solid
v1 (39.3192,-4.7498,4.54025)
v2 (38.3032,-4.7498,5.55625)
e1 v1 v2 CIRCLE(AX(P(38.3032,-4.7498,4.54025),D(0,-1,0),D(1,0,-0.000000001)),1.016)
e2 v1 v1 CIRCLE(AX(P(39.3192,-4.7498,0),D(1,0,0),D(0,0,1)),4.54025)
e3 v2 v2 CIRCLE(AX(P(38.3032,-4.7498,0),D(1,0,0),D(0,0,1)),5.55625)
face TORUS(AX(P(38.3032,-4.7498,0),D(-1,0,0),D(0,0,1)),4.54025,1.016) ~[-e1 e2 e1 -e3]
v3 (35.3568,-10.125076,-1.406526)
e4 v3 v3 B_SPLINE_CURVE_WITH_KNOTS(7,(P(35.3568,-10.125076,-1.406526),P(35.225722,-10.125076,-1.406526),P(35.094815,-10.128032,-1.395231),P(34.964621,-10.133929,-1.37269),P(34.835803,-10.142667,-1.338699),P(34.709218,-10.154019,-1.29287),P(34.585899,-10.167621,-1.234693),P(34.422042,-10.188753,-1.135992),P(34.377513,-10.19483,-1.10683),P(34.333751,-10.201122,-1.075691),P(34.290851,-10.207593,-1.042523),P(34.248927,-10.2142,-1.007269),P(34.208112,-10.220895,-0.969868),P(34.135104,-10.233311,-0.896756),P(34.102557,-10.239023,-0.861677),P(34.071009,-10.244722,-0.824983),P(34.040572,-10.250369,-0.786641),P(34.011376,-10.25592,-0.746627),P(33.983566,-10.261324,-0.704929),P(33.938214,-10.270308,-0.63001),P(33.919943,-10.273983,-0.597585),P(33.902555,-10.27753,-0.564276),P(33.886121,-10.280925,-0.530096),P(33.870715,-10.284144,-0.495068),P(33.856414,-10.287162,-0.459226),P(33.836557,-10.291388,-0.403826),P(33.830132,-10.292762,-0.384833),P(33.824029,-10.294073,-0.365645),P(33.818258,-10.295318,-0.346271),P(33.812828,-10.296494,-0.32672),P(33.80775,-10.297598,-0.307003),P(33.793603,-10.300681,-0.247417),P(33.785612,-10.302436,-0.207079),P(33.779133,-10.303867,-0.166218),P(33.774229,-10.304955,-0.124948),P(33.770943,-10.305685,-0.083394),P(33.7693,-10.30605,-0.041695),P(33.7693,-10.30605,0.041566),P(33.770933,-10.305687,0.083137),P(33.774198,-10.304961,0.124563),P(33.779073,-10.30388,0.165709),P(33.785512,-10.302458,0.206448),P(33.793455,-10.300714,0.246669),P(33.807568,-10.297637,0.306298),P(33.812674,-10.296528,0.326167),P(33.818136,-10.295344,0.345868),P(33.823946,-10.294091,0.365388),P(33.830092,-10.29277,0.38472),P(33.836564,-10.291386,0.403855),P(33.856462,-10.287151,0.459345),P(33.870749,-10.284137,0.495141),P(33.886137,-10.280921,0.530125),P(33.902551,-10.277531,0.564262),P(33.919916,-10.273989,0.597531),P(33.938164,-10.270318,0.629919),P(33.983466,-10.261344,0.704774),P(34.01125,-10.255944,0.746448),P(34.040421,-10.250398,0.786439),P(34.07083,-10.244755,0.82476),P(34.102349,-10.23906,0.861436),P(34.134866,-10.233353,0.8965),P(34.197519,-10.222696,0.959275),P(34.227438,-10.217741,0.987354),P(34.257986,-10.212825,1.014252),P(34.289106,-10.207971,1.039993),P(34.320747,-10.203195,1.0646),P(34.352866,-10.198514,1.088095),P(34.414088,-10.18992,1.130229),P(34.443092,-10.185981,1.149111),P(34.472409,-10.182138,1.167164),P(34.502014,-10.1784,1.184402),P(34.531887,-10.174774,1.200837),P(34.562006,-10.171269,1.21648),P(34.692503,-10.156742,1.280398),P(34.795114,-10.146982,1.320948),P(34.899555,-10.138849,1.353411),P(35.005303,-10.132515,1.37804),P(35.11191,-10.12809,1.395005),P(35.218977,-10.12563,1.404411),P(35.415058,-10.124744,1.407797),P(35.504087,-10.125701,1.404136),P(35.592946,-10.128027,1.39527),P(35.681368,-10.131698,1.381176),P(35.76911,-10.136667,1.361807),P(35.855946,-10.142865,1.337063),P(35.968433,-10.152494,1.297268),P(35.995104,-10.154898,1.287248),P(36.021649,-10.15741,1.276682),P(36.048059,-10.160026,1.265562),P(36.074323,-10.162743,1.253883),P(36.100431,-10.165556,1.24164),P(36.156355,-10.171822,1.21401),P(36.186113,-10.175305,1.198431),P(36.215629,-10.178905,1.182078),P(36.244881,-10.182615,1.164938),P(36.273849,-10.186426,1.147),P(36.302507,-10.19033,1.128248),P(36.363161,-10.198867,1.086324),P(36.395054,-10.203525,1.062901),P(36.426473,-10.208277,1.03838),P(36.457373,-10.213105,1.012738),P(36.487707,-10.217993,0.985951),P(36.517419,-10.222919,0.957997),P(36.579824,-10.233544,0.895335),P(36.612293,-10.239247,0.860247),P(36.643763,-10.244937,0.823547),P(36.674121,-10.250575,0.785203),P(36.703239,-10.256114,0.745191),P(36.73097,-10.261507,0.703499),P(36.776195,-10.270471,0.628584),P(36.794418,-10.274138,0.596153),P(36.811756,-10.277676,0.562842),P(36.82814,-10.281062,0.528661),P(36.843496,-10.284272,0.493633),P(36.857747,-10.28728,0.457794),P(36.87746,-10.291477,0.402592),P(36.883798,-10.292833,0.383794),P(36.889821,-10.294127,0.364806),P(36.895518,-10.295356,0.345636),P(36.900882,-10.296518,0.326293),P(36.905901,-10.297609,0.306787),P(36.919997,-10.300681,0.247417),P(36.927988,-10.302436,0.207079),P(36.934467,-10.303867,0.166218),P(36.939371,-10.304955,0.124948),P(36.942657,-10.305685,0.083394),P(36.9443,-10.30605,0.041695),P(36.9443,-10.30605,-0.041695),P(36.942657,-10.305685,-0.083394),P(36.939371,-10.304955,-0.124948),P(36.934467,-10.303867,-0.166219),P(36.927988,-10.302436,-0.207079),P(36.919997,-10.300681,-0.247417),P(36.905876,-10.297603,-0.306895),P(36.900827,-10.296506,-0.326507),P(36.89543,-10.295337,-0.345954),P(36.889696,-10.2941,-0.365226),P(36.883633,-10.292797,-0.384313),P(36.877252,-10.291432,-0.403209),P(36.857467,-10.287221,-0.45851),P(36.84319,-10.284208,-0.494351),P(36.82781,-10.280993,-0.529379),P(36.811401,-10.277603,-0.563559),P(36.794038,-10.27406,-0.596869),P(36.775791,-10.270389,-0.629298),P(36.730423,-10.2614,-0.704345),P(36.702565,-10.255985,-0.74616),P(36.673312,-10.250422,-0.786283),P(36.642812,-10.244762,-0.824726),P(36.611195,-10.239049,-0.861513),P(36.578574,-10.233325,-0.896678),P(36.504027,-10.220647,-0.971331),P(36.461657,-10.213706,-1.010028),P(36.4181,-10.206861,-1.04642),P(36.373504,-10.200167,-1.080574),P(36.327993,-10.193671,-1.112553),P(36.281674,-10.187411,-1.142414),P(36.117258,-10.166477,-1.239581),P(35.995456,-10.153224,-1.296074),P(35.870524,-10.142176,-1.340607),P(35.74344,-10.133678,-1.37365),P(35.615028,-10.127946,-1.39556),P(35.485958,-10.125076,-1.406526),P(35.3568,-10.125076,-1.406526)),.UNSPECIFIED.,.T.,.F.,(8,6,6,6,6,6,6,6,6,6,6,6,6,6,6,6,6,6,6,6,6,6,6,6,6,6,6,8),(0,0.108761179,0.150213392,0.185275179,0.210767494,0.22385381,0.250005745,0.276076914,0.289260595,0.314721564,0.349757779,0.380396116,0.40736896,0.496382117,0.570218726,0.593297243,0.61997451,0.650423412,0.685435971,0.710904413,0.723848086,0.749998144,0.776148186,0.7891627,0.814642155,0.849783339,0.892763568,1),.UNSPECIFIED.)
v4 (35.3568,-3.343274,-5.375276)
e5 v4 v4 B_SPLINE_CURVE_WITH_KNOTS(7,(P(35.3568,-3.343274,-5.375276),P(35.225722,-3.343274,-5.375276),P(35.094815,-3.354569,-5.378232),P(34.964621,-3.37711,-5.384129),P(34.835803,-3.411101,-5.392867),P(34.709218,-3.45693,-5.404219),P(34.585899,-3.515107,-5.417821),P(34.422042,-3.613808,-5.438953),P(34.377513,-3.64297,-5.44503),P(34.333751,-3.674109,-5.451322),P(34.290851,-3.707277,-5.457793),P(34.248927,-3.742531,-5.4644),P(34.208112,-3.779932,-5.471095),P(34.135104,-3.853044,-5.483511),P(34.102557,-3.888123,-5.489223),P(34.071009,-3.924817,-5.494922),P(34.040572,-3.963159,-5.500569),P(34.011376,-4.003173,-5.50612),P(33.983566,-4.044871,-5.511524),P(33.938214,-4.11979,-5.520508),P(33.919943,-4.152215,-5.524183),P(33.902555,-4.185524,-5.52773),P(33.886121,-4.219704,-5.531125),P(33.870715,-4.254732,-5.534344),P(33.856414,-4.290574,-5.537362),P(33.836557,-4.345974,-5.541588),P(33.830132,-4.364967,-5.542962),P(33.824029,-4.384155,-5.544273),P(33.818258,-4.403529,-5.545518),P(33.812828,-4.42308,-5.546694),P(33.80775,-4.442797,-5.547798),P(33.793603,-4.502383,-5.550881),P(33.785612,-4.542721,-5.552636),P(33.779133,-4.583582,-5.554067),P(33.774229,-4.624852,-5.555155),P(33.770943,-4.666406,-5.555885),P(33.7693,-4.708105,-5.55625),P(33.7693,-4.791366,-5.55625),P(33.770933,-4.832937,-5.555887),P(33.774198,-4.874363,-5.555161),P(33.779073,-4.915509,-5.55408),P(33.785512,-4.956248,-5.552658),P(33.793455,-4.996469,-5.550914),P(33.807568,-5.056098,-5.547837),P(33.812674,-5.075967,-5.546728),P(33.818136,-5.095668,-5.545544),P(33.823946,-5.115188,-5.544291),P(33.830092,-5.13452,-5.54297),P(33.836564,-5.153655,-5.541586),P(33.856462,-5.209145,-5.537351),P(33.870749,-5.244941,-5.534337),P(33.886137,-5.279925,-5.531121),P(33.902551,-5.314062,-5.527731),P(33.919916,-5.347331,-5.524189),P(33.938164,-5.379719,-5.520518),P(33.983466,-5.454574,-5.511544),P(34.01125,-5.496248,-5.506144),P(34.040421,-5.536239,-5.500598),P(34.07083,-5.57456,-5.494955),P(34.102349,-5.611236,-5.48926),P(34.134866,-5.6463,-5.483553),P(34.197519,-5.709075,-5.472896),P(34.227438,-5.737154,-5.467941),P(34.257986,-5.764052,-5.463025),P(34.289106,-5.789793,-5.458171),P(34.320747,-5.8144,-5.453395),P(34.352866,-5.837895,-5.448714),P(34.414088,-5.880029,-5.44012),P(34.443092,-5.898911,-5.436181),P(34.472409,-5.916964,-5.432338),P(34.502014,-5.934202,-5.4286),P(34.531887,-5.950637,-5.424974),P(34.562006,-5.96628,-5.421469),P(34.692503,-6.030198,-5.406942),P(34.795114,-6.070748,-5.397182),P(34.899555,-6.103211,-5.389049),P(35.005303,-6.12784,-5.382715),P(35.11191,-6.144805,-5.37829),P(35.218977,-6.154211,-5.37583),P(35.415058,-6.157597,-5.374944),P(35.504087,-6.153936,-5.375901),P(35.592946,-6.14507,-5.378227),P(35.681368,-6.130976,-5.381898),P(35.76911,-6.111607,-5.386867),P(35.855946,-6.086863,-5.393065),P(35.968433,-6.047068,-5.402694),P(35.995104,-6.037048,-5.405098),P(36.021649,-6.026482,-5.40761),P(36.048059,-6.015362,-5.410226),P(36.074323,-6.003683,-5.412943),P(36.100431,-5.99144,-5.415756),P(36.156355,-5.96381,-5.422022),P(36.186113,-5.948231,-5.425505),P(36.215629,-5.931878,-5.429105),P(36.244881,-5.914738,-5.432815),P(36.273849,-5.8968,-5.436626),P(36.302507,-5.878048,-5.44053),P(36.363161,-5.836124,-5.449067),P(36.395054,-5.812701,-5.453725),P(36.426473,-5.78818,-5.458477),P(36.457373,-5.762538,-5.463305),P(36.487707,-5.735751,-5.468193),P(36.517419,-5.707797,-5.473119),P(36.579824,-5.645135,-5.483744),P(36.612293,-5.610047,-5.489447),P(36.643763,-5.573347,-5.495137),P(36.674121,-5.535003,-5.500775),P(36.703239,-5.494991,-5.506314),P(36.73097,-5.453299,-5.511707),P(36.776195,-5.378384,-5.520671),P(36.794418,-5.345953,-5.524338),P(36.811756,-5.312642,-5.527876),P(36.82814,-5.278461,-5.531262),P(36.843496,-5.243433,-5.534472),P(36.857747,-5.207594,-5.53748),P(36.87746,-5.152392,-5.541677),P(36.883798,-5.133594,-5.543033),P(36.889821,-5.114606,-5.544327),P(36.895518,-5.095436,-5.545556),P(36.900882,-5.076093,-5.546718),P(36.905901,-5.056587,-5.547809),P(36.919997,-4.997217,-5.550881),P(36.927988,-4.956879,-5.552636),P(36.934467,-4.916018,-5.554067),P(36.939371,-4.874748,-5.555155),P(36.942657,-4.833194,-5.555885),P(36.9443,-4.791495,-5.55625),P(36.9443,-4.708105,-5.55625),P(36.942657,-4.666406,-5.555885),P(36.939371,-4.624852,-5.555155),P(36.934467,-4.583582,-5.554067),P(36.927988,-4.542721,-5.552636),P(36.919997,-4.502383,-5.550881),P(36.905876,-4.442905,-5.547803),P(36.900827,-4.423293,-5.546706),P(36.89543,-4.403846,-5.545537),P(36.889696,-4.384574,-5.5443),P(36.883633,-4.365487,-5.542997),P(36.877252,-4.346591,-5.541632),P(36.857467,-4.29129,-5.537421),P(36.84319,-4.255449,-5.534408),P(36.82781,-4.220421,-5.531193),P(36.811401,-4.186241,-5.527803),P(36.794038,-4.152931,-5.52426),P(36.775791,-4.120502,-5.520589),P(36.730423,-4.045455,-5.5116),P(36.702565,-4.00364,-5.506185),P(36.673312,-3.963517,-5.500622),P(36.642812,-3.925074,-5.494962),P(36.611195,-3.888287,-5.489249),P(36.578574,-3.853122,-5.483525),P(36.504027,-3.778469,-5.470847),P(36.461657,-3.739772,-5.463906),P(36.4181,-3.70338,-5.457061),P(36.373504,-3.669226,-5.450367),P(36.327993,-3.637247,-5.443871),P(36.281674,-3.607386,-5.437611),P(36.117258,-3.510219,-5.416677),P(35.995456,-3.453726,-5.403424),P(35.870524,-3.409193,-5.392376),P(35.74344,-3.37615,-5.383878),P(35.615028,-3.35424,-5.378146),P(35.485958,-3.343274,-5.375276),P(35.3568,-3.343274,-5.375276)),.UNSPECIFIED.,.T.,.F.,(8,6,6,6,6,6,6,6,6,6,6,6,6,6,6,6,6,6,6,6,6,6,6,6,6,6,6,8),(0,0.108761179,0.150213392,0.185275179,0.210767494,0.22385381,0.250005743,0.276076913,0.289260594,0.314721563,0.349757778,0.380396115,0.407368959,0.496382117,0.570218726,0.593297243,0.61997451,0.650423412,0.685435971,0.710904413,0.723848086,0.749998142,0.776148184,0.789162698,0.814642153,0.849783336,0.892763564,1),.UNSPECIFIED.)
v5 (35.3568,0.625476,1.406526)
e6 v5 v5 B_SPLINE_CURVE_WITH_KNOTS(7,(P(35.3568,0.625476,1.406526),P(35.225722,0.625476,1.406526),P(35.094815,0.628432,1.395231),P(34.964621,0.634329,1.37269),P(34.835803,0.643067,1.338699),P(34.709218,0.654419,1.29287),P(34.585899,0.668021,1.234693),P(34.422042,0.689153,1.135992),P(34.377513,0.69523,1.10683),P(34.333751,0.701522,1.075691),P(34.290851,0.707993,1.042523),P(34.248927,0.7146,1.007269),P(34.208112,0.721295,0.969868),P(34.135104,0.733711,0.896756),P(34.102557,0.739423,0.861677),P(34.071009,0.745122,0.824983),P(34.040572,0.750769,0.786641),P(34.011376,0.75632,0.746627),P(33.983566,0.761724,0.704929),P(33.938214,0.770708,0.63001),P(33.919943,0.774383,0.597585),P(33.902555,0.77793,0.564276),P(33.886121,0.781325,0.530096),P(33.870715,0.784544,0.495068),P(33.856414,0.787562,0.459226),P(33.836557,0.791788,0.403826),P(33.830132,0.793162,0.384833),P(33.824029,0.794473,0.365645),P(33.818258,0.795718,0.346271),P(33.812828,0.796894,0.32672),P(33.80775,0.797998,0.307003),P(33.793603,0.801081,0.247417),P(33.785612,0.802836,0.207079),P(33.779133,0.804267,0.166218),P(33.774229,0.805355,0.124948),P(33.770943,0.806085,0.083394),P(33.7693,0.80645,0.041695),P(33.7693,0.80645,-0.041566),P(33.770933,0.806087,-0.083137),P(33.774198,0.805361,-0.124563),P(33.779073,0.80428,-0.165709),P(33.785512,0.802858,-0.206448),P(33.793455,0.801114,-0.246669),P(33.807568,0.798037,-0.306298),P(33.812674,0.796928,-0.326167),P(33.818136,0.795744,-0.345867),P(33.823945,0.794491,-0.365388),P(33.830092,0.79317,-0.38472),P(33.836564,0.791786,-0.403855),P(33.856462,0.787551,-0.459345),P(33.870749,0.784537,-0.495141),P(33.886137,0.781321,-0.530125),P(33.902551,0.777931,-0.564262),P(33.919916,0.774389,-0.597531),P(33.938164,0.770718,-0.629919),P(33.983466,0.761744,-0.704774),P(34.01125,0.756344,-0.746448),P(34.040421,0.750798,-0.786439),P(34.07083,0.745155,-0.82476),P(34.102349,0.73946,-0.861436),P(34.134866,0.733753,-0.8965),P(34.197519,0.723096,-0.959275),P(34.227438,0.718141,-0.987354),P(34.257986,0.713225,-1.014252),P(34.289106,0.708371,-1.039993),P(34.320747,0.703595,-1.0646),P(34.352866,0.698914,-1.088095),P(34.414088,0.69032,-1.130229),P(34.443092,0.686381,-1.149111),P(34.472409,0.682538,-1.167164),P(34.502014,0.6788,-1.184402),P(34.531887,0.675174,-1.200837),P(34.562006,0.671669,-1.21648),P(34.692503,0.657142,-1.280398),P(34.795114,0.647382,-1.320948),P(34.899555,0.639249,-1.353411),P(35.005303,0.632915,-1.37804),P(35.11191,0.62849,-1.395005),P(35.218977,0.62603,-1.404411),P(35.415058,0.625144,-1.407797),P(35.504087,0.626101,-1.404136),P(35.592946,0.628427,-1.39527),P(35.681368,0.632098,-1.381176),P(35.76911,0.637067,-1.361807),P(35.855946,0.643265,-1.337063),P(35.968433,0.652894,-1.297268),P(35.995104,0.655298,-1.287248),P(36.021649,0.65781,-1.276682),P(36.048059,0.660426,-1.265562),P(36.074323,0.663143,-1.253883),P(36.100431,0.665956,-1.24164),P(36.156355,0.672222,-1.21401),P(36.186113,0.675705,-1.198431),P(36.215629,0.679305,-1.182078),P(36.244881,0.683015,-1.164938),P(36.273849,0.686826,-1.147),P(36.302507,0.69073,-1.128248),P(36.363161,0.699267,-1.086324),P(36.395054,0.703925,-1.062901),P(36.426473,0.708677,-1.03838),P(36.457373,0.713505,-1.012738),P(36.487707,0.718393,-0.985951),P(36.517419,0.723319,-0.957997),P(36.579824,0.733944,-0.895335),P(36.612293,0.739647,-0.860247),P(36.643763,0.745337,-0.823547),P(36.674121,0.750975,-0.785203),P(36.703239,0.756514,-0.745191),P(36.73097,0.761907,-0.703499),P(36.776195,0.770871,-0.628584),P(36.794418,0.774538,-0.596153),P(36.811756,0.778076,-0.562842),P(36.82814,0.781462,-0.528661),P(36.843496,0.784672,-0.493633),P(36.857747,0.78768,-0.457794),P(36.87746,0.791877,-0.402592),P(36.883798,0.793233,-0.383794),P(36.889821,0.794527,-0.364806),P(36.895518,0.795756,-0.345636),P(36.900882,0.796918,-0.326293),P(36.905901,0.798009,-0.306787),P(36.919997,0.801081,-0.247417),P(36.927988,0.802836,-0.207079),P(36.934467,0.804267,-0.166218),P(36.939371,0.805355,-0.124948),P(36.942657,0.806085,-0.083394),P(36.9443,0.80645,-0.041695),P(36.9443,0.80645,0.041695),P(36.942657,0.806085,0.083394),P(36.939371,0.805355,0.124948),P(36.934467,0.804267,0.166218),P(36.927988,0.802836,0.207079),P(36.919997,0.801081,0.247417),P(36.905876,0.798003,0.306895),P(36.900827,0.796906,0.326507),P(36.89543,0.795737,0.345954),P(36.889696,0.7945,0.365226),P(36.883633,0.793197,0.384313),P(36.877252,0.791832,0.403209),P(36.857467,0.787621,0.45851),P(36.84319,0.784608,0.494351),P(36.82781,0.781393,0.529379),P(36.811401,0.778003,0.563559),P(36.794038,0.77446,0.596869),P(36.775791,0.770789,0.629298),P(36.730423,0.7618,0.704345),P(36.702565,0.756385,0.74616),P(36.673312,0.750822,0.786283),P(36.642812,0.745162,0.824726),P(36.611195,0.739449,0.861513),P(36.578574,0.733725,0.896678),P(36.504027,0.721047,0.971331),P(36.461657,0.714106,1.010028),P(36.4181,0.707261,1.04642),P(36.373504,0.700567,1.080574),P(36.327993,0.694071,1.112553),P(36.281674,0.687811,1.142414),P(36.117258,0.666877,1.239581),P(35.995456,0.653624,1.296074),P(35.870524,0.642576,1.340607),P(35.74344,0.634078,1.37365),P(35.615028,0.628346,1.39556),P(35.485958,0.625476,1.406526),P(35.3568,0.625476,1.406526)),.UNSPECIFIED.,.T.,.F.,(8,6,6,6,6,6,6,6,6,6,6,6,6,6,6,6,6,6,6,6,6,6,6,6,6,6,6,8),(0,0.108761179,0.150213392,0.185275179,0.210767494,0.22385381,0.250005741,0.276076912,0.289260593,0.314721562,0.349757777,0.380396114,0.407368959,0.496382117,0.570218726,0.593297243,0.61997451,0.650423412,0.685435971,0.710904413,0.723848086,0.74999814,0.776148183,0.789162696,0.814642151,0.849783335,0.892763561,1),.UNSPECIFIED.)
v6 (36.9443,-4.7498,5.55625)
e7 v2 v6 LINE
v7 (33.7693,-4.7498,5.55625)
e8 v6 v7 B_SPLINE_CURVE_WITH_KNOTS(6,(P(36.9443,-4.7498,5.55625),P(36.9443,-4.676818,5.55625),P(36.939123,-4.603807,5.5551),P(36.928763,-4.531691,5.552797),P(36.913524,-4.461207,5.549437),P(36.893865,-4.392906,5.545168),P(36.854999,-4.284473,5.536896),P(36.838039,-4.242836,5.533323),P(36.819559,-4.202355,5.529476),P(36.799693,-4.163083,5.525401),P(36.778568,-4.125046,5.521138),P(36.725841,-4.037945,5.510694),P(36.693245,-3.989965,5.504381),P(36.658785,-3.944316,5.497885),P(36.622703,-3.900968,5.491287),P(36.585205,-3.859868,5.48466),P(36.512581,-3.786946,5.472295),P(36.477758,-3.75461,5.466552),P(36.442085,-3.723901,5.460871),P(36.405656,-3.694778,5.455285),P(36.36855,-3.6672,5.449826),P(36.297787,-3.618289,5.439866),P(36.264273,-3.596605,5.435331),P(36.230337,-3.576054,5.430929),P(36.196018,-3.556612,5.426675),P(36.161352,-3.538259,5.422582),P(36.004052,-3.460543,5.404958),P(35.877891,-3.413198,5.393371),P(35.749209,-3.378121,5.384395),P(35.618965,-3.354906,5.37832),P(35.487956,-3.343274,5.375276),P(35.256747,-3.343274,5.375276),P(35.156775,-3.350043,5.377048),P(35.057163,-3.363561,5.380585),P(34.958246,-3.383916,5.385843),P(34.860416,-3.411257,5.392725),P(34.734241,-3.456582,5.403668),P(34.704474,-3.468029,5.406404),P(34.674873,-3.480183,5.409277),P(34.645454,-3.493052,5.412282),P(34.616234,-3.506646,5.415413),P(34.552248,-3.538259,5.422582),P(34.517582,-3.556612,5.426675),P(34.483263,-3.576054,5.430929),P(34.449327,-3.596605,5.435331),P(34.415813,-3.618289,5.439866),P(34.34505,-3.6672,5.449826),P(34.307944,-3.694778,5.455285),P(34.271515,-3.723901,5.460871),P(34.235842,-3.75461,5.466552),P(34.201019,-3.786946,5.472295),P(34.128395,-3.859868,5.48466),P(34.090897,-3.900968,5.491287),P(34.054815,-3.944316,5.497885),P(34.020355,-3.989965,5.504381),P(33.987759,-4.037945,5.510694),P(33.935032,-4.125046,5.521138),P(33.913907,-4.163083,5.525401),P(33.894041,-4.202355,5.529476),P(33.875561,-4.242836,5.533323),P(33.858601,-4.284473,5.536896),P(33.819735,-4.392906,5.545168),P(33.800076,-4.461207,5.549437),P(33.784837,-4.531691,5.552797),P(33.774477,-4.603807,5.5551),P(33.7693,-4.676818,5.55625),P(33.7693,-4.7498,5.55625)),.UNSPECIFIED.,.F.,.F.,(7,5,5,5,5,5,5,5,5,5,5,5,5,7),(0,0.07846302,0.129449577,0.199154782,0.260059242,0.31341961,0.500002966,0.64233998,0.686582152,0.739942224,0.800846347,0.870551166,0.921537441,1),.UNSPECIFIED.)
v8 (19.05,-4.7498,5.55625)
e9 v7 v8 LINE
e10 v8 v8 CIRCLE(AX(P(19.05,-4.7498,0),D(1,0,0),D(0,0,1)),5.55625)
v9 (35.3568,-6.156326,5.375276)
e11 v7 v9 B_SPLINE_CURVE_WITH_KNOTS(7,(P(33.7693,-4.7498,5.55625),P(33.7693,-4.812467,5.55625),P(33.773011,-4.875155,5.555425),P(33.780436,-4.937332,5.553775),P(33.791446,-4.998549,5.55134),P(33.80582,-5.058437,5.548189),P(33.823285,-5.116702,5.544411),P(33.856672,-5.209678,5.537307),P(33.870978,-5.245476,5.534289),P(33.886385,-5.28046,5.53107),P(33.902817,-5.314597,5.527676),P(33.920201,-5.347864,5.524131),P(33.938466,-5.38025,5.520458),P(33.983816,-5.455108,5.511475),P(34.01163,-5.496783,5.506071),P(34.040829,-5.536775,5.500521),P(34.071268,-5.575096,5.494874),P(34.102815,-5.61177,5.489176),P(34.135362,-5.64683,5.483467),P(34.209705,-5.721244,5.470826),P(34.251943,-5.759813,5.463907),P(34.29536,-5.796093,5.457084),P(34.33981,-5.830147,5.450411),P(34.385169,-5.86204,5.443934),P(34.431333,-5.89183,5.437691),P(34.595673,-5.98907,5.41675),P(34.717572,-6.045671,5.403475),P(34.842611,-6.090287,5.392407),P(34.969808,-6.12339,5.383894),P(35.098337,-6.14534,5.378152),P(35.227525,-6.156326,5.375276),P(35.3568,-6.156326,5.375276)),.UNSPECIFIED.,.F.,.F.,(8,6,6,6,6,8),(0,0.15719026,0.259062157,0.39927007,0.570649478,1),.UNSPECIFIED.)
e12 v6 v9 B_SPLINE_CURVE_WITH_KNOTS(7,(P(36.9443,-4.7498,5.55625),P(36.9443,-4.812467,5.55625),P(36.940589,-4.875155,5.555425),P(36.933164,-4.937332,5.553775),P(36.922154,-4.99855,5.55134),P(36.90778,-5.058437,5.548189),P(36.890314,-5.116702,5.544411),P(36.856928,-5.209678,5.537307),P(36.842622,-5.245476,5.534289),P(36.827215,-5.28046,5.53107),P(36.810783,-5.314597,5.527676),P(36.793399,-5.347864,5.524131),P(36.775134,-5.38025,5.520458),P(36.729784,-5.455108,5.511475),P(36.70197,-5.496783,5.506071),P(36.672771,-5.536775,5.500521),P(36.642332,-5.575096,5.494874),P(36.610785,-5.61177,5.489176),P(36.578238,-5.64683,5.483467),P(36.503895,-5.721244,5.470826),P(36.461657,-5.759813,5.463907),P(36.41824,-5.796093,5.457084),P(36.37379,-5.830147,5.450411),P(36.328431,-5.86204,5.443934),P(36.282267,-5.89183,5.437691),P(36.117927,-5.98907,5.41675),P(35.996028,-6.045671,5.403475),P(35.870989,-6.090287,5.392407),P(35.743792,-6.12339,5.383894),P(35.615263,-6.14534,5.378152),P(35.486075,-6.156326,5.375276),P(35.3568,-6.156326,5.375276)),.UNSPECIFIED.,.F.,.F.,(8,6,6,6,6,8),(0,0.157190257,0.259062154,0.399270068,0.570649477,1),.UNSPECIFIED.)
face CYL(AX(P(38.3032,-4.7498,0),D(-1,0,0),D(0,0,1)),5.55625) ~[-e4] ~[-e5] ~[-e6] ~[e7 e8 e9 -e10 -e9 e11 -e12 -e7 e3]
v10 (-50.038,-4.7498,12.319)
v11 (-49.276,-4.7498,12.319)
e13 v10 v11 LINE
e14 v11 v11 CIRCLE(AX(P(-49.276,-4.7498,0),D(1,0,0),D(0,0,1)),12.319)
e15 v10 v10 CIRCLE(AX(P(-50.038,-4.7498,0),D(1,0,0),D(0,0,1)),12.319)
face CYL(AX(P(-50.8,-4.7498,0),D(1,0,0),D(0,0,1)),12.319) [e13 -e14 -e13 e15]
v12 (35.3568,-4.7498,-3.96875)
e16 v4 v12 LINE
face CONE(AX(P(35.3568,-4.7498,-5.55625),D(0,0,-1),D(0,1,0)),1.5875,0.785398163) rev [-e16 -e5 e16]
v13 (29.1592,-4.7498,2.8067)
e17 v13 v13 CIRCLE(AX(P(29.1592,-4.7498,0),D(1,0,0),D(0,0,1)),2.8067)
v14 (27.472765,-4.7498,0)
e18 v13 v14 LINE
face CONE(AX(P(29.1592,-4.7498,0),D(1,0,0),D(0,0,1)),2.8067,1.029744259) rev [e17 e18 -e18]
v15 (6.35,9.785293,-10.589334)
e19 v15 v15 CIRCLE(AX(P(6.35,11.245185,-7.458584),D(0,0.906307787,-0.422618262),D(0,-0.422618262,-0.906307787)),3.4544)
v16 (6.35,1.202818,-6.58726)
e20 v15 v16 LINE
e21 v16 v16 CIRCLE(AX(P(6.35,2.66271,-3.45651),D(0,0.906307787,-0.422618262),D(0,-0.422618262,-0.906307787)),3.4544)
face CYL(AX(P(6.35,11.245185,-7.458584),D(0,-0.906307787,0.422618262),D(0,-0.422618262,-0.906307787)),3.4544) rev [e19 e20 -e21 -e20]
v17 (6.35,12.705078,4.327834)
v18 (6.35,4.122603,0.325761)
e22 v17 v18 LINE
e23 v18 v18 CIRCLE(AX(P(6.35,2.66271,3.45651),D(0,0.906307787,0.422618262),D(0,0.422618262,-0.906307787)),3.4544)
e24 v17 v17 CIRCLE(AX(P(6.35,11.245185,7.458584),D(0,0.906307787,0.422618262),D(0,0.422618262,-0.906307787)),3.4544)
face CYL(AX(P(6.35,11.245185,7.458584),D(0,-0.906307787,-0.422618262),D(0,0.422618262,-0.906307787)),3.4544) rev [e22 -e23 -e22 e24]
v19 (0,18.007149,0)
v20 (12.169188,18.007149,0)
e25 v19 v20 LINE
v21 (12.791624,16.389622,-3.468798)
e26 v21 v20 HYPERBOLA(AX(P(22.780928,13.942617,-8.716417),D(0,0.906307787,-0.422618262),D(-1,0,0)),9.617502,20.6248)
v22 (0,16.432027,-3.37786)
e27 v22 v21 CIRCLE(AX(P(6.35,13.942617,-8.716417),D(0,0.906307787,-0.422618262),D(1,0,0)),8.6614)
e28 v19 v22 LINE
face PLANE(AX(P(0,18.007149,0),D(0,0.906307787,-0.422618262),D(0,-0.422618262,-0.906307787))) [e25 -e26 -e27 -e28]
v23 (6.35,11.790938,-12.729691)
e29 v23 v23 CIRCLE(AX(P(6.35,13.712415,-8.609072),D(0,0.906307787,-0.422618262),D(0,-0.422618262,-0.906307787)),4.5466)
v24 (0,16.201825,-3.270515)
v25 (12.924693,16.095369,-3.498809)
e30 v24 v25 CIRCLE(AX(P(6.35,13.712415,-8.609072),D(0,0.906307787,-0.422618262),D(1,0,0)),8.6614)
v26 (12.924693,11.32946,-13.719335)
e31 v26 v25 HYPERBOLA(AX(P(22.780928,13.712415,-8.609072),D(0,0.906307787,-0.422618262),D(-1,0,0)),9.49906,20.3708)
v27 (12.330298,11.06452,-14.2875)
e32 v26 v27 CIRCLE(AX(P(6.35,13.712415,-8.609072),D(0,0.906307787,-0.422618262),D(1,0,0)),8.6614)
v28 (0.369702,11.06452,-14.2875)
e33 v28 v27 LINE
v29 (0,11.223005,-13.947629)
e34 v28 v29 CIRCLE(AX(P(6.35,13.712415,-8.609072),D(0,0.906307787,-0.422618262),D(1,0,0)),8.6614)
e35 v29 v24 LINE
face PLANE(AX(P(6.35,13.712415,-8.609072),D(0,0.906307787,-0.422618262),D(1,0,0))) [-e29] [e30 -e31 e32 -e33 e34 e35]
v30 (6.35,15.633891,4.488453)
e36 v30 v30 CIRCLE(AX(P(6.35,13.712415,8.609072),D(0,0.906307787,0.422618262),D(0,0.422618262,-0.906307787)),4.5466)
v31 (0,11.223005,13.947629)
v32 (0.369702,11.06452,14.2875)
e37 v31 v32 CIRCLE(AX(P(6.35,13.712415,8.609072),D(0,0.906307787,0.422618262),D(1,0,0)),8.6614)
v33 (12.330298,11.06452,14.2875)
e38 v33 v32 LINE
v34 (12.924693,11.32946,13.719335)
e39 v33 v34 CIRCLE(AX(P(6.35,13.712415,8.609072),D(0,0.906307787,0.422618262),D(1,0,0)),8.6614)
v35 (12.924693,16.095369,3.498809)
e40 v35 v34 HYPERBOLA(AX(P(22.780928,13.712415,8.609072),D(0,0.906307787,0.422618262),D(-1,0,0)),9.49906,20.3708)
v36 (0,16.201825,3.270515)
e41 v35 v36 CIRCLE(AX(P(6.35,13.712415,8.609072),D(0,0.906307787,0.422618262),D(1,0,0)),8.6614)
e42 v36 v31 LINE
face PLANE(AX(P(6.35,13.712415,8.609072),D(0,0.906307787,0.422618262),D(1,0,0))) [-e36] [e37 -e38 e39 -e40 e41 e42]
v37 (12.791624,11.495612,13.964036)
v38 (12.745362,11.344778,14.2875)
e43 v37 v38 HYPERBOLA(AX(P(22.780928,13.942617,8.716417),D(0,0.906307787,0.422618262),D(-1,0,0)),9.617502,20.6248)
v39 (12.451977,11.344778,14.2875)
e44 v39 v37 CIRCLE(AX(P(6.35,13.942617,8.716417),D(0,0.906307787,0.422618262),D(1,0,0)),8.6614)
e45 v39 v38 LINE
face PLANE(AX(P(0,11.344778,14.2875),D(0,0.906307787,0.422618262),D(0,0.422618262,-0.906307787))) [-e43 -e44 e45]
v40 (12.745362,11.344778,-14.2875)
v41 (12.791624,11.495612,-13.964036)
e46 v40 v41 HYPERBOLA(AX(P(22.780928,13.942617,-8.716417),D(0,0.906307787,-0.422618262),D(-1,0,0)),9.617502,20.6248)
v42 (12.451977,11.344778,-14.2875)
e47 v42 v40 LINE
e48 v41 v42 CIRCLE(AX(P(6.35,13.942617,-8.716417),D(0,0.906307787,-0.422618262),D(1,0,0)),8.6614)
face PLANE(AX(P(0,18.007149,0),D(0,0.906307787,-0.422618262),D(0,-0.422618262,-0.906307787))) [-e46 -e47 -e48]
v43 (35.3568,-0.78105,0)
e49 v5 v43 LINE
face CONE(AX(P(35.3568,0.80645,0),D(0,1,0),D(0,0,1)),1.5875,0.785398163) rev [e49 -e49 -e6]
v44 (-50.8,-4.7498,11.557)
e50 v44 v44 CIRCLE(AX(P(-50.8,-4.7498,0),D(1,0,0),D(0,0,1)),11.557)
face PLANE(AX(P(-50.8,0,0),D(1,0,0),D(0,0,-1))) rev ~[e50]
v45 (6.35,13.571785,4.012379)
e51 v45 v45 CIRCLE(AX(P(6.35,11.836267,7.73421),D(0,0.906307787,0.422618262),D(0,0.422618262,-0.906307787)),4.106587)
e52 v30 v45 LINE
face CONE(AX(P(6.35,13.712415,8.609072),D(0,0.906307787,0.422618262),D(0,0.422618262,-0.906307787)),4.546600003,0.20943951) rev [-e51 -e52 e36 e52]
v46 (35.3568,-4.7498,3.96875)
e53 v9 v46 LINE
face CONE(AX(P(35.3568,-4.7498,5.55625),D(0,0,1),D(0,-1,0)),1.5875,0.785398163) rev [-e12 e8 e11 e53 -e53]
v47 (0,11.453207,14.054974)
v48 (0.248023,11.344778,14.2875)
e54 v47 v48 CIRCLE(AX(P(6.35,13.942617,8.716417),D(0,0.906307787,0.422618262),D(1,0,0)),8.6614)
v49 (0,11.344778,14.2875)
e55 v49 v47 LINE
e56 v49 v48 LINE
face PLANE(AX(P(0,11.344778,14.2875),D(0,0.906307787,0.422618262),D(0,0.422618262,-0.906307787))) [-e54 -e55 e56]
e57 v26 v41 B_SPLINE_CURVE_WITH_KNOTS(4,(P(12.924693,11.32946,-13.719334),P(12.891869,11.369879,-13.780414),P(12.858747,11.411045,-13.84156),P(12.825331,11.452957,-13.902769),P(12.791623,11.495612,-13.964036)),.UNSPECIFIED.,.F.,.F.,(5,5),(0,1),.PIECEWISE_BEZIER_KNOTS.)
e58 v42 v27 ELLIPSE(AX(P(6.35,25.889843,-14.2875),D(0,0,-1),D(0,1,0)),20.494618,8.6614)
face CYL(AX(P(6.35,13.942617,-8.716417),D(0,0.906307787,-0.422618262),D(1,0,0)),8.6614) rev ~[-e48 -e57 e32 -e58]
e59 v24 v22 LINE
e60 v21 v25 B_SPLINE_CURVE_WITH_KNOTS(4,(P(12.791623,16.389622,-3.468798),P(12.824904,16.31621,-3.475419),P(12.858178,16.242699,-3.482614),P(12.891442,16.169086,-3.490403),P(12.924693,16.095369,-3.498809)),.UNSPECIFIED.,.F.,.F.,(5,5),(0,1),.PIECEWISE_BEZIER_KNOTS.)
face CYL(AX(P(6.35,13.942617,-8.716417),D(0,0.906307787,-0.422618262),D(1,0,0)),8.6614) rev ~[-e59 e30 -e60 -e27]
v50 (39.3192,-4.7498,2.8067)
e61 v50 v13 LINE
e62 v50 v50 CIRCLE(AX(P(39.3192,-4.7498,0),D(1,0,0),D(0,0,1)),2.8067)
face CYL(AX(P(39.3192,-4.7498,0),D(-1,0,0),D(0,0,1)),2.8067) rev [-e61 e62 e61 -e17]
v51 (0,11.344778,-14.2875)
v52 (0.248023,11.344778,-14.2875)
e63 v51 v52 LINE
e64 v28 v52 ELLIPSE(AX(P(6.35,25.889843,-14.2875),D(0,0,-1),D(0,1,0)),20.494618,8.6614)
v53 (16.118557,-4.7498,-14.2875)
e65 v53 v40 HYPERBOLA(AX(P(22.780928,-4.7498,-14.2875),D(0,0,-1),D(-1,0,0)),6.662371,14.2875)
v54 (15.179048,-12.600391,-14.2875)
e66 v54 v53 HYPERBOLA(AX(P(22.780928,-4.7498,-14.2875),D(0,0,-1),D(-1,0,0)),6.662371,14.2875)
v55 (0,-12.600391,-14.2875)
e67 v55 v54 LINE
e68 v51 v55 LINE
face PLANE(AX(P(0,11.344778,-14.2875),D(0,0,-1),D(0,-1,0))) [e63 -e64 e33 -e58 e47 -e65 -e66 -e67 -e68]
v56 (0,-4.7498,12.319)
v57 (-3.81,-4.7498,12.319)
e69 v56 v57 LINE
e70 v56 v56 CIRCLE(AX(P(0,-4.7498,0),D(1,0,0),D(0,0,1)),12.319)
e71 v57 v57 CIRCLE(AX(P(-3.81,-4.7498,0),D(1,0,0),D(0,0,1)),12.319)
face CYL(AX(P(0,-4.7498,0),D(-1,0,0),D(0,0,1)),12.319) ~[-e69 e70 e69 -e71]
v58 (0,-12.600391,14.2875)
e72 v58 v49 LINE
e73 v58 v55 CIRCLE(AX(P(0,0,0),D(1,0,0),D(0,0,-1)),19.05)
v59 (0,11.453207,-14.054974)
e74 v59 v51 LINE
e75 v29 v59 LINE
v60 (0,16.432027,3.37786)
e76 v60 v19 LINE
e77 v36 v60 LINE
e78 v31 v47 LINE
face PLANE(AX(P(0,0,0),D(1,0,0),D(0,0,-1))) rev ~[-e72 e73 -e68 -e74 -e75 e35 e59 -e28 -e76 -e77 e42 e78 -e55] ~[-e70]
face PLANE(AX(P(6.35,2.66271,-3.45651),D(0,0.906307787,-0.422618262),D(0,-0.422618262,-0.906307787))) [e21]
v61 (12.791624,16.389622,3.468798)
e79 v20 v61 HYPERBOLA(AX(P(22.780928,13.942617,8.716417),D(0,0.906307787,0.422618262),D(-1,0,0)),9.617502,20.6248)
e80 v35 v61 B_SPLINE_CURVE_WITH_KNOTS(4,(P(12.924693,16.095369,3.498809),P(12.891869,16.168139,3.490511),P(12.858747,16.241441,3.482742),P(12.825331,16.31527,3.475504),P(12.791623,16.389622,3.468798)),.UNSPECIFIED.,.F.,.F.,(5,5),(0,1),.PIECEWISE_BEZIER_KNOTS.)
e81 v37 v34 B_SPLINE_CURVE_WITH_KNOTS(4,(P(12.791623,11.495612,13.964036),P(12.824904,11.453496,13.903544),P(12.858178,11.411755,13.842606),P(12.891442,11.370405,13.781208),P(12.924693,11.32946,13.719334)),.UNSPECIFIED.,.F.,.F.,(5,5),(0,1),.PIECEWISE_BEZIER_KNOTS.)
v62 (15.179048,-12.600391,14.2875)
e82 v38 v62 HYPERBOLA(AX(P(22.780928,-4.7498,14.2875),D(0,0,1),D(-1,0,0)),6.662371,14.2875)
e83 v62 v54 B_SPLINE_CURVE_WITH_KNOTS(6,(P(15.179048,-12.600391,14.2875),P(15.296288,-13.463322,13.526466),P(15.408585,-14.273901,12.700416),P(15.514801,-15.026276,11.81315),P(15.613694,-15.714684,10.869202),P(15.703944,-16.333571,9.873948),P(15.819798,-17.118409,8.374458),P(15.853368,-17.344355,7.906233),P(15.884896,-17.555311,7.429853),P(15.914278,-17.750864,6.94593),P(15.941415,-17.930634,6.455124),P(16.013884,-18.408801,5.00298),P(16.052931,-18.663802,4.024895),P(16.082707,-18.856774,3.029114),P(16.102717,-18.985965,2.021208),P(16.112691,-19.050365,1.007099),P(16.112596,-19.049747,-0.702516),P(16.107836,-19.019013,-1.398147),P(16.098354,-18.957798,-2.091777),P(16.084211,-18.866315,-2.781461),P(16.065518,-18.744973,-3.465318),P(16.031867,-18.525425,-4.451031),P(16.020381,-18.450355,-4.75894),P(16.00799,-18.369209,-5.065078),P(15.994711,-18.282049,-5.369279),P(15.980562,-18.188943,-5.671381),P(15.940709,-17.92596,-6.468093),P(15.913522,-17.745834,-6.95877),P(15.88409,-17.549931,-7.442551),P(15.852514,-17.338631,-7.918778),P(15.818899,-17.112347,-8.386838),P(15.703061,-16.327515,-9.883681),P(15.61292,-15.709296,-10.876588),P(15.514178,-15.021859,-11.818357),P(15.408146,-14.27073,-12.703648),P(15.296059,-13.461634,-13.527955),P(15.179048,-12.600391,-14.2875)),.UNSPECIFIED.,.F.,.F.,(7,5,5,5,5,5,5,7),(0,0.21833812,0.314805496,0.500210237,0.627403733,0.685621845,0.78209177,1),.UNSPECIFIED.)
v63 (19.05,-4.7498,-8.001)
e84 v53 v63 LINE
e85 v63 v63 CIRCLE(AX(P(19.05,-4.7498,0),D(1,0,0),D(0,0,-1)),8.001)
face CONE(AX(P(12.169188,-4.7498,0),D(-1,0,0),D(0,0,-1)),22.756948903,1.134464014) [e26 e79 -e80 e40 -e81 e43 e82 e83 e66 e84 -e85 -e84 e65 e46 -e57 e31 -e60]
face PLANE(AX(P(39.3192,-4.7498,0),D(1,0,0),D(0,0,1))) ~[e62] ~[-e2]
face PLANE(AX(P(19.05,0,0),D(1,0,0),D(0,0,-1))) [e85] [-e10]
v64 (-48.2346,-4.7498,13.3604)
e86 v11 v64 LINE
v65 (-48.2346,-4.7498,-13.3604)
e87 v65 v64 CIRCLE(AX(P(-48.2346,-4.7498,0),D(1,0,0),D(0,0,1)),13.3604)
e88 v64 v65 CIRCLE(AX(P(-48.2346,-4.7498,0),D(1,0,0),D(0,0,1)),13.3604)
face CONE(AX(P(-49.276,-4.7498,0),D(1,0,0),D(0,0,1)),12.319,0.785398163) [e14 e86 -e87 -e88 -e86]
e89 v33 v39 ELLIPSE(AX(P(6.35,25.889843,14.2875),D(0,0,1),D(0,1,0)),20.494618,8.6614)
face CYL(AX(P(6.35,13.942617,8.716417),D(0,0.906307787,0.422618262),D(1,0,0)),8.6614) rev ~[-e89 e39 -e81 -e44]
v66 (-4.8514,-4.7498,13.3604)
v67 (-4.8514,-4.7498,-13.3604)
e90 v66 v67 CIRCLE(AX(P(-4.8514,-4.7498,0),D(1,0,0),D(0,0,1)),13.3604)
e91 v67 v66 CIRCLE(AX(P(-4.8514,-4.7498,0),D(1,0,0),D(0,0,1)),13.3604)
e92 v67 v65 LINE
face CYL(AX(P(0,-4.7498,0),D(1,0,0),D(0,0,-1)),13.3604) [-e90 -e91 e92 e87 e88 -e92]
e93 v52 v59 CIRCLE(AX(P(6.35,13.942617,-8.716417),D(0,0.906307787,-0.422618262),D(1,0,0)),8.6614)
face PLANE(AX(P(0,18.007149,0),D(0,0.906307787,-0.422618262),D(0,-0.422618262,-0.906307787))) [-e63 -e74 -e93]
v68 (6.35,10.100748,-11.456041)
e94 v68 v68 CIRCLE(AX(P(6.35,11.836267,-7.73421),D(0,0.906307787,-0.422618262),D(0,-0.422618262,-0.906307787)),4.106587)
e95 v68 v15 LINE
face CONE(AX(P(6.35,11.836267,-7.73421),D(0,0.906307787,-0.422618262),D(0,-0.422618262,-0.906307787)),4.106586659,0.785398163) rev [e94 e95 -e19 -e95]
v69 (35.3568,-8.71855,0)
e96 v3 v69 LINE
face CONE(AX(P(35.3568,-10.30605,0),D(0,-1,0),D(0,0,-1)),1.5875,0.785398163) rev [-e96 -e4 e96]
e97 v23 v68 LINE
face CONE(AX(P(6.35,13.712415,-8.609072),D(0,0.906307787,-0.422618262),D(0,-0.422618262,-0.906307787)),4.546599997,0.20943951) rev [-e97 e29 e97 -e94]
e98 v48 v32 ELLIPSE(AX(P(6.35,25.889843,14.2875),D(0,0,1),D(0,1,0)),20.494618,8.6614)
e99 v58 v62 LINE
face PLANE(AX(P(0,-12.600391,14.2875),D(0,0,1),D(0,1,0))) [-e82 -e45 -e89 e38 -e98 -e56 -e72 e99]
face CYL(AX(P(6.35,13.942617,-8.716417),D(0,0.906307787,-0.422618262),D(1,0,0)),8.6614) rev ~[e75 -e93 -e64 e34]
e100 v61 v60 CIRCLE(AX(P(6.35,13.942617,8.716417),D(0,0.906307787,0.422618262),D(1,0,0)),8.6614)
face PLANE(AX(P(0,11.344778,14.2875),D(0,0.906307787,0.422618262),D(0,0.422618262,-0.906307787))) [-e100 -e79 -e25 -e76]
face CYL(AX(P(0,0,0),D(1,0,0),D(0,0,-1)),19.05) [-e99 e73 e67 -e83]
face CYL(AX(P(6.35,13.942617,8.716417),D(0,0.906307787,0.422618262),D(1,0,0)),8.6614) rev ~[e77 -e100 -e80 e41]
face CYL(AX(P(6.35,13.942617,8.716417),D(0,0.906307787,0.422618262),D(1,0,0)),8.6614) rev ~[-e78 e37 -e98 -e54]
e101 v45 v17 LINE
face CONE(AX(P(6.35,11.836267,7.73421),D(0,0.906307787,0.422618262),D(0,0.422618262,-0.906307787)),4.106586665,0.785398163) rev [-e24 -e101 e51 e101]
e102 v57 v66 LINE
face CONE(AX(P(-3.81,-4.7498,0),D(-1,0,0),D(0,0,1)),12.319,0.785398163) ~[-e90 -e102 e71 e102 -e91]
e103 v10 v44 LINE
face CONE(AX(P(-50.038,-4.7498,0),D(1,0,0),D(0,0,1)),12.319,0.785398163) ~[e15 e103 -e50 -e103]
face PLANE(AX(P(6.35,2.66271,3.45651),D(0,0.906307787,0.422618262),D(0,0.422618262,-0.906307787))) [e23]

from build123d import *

# Parameters (mm, degrees)
SKETCH1_R           = 19.05
EXTRUDE1_DEPTH      = 19.05
EXTRUDE1_DEPTH_BACK = 50.8
CUT_EXTRUDE1_REACH  = 52.8
SKETCH2_R           = 19.05
SKETCH2_R_2         = 13.3604
CUT_EXTRUDE3_REACH  = 21.05
SKETCH19_R          = 8.6614
CUT_EXTRUDE4_DEPTH  = 0.254
SKETCH20_R          = 8.6614
CUT_EXTRUDE5_DEPTH  = 0.254
CHAMFER1_SIZE       = 0.762
CIRPATTERN1_COUNT   = 4


with BuildPart() as part:
    # Sketch1 → Extrude1 (new body, two sides)
    with BuildSketch(Plane(origin=(0, 0, 0), x_dir=(0, 0, -1), z_dir=(1, 0, 0))) as extrude1_sk:
        Circle(SKETCH1_R)
    extrude(amount=EXTRUDE1_DEPTH)
    extrude(extrude1_sk.sketch, amount=-EXTRUDE1_DEPTH_BACK)

    # Sketch2 → Cut-Extrude1 (cut, up to next)
    with BuildSketch(Plane(origin=(0, 0, 0), x_dir=(0, 0, -1), z_dir=(1, 0, 0)), mode=Mode.PRIVATE) as cut_extrude1_sk1:
        Circle(SKETCH2_R)
        with Locations((0, -4.7498)):
            Circle(SKETCH2_R_2, mode=Mode.SUBTRACT)
    cut_extrude1_tool1 = extrude(cut_extrude1_sk1.sketch, amount=-CUT_EXTRUDE1_REACH, mode=Mode.PRIVATE) & part.part
    add(cut_extrude1_tool1.solids().sort_by_distance((0, 0, 18.511185))[0], mode=Mode.SUBTRACT)

    # Sketch4 → Cut-Extrude3 (cut, up to next)
    with BuildSketch(Plane.ZY, mode=Mode.PRIVATE) as cut_extrude3_sk1:
        with BuildLine():
            Line((14.2875, -12.600390619), (14.2875, 11.344778237))
            Line((14.2875, 11.344778237), (0, 18.007148903))
            Line((0, 18.007148903), (-14.2875, 11.344778237))
            Line((-14.2875, 11.344778237), (-14.2875, -12.600390619))
            ThreePointArc((-14.2875, -12.600390619), (0, 19.05), (14.2875, -12.600390619))
        make_face()
    cut_extrude3_tool1 = extrude(cut_extrude3_sk1.sketch, amount=-CUT_EXTRUDE3_REACH, mode=Mode.PRIVATE) & part.part
    add(cut_extrude3_tool1.solids().sort_by_distance((0, -0.627806, 14.782814))[0], mode=Mode.SUBTRACT)

    # Sketch6 → Cut-Revolve2 (revolve, cut)
    with BuildSketch(Plane.XY, mode=Mode.PRIVATE) as cut_revolve2_sk:
        Polygon((12.169188023, 18.007148903), (19.05, 3.2512), (19.05, 18.007148903), align=None)
    revolve(cut_revolve2_sk.sketch.rotate(Axis((1.987224567, -4.7498, 0), (1, 0, 0)), 270), axis=Axis((1.987224567, -4.7498, 0), (1, 0, 0)), mode=Mode.SUBTRACT)  # turned: the seam where the file's is

    # S2D0002 → Cut-Revolve3 (revolve, cut)
    with BuildSketch(Plane(origin=(6.35, 13.712414668, 8.609072086), x_dir=(0, 0.422618262, -0.906307787), z_dir=(1, 0, 0))):
        Polygon((0, 0), (4.5466, 0), (4.106586662, -2.0701), (3.4544, -2.722286662), (3.4544, -12.192), (0, -12.192), align=None)
    revolve(axis=Axis((6.35, 2.110224902, 3.198882147), (0, 0.906307787, 0.422618262)), mode=Mode.SUBTRACT)

    # Sketch19 → Cut-Extrude4 (cut)
    with BuildSketch(Plane(origin=(0, 14.790960552, 6.897138177), x_dir=(1, 0, 0), z_dir=(0, 0.906307787, 0.422618262))):
        with Locations((6.35, -2.00735222)):
            Circle(SKETCH19_R)
    extrude(amount=-CUT_EXTRUDE4_DEPTH, mode=Mode.SUBTRACT)

    # Sketch8 → Cut-Revolve4 (revolve, cut)
    with BuildSketch(Plane(origin=(6.35, 13.712414668, -8.609072086), x_dir=(0, -0.422618262, -0.906307787), z_dir=(1, 0, 0))):
        Polygon((0, 0), (4.5466, 0), (4.106586662, -2.0701), (3.4544, -2.722286662), (3.4544, -12.192), (0, -12.192), align=None)
    revolve(axis=Axis((6.35, 2.110224902, -3.198882147), (0, 0.906307787, -0.422618262)), mode=Mode.SUBTRACT)

    # Sketch20 → Cut-Extrude5 (cut)
    with BuildSketch(Plane(origin=(0, 14.790960552, -6.897138177), x_dir=(1, 0, 0), z_dir=(0, 0.906307787, -0.422618262))):
        with Locations((6.35, 2.00735222)):
            Circle(SKETCH20_R)
    extrude(amount=-CUT_EXTRUDE5_DEPTH, mode=Mode.SUBTRACT)

    # Sketch10 → Cut-Revolve6 (revolve, cut)
    with BuildSketch(Plane.XY, mode=Mode.PRIVATE) as cut_revolve6_sk:
        Polygon((0, 8.6106), (0, 7.5692), (-3.81, 7.5692), (-4.8514, 8.6106), align=None)
    revolve(cut_revolve6_sk.sketch.rotate(Axis((-5.09397, -4.7498, 0), (1, 0, 0)), 90), axis=Axis((-5.09397, -4.7498, 0), (1, 0, 0)), mode=Mode.SUBTRACT)  # turned: the seam where the file's is

    # Sketch12 → Cut-Revolve8 (revolve, cut)
    with BuildSketch(Plane.XY, mode=Mode.PRIVATE) as cut_revolve8_sk:
        Polygon((-50.8, 8.6106), (-50.8, 7.5692), (-49.276, 7.5692), (-48.2346, 8.6106), align=None)
    revolve(cut_revolve8_sk.sketch.rotate(Axis((-50.92827, -4.7498, 0), (1, 0, 0)), 90), axis=Axis((-50.92827, -4.7498, 0), (1, 0, 0)), mode=Mode.SUBTRACT)  # turned: the seam where the file's is

    # Chamfer1
    chamfer1_edges = [part.edges().sort_by_distance(p)[0] for p in [
        (-50.8, -4.7498, -12.319),
    ]]
    chamfer(chamfer1_edges, length=CHAMFER1_SIZE)

    # Sketch13 → Revolve1 (revolve)
    with BuildSketch(Plane(origin=(0, 0, 0), x_dir=(0, -1, 0), z_dir=(0, 0, 1)), mode=Mode.PRIVATE) as revolve1_sk:
        with BuildLine():
            Line((4.7498, 19.05), (4.7498, 39.3192))
            Line((4.7498, 39.3192), (9.29005, 39.3192))
            ThreePointArc((9.29005, 39.3192), (10.00847049, 39.02162049), (10.30605, 38.3032))
            Line((10.30605, 38.3032), (10.30605, 19.05))
            Line((10.30605, 19.05), (4.7498, 19.05))
        make_face()
    revolve(revolve1_sk.sketch.rotate(Axis((18.03654, -4.7498, 0), (1, 0, 0)), 270), axis=Axis((18.03654, -4.7498, 0), (1, 0, 0)))  # turned: the seam where the file's is

    # S2D0001 → Cut-Revolve9 (revolve, cut)
    with BuildSketch(Plane(origin=(39.3192, -7.5565, 0), x_dir=(0, -1, 0), z_dir=(0, 0, 1)), mode=Mode.PRIVATE) as cut_revolve9_sk:
        Polygon((0, 0), (0, -10.16), (-2.8067, -11.846435499), (-2.8067, 0), align=None)
    revolve(cut_revolve9_sk.sketch.rotate(Axis((26.880442726, -4.7498, 0), (1, 0, 0)), 270), axis=Axis((26.880442726, -4.7498, 0), (1, 0, 0)), mode=Mode.SUBTRACT)  # turned: the seam where the file's is

    # Sketch16 → Cut-Revolve10 (revolve, cut)
    with BuildSketch(Plane(origin=(35.3568, 2.197634211, 0), x_dir=(-1, 0, 0), z_dir=(0, 0, -1)), mode=Mode.PRIVATE) as cut_revolve10_sk:
        Polygon((0, -1.391184211), (1.5875, -1.391184211), (0, -2.978684211), align=None)
    cut_revolve10 = revolve(cut_revolve10_sk.sketch.rotate(Axis((35.3568, -1.281162177, 0), (0, 1, 0)), 90), axis=Axis((35.3568, -1.281162177, 0), (0, 1, 0)), mode=Mode.SUBTRACT)  # turned: the seam where the file's is

    # CirPattern1: Cut-Revolve10 ×4 about axis
    cirpattern1_axis = Axis((18.03654, -4.7498, 0), (-1, 0, 0))
    for i in range(1, CIRPATTERN1_COUNT):
        add(cut_revolve10.rotate(cirpattern1_axis, i * 360 / CIRPATTERN1_COUNT), mode=Mode.SUBTRACT)


solid = part.part
